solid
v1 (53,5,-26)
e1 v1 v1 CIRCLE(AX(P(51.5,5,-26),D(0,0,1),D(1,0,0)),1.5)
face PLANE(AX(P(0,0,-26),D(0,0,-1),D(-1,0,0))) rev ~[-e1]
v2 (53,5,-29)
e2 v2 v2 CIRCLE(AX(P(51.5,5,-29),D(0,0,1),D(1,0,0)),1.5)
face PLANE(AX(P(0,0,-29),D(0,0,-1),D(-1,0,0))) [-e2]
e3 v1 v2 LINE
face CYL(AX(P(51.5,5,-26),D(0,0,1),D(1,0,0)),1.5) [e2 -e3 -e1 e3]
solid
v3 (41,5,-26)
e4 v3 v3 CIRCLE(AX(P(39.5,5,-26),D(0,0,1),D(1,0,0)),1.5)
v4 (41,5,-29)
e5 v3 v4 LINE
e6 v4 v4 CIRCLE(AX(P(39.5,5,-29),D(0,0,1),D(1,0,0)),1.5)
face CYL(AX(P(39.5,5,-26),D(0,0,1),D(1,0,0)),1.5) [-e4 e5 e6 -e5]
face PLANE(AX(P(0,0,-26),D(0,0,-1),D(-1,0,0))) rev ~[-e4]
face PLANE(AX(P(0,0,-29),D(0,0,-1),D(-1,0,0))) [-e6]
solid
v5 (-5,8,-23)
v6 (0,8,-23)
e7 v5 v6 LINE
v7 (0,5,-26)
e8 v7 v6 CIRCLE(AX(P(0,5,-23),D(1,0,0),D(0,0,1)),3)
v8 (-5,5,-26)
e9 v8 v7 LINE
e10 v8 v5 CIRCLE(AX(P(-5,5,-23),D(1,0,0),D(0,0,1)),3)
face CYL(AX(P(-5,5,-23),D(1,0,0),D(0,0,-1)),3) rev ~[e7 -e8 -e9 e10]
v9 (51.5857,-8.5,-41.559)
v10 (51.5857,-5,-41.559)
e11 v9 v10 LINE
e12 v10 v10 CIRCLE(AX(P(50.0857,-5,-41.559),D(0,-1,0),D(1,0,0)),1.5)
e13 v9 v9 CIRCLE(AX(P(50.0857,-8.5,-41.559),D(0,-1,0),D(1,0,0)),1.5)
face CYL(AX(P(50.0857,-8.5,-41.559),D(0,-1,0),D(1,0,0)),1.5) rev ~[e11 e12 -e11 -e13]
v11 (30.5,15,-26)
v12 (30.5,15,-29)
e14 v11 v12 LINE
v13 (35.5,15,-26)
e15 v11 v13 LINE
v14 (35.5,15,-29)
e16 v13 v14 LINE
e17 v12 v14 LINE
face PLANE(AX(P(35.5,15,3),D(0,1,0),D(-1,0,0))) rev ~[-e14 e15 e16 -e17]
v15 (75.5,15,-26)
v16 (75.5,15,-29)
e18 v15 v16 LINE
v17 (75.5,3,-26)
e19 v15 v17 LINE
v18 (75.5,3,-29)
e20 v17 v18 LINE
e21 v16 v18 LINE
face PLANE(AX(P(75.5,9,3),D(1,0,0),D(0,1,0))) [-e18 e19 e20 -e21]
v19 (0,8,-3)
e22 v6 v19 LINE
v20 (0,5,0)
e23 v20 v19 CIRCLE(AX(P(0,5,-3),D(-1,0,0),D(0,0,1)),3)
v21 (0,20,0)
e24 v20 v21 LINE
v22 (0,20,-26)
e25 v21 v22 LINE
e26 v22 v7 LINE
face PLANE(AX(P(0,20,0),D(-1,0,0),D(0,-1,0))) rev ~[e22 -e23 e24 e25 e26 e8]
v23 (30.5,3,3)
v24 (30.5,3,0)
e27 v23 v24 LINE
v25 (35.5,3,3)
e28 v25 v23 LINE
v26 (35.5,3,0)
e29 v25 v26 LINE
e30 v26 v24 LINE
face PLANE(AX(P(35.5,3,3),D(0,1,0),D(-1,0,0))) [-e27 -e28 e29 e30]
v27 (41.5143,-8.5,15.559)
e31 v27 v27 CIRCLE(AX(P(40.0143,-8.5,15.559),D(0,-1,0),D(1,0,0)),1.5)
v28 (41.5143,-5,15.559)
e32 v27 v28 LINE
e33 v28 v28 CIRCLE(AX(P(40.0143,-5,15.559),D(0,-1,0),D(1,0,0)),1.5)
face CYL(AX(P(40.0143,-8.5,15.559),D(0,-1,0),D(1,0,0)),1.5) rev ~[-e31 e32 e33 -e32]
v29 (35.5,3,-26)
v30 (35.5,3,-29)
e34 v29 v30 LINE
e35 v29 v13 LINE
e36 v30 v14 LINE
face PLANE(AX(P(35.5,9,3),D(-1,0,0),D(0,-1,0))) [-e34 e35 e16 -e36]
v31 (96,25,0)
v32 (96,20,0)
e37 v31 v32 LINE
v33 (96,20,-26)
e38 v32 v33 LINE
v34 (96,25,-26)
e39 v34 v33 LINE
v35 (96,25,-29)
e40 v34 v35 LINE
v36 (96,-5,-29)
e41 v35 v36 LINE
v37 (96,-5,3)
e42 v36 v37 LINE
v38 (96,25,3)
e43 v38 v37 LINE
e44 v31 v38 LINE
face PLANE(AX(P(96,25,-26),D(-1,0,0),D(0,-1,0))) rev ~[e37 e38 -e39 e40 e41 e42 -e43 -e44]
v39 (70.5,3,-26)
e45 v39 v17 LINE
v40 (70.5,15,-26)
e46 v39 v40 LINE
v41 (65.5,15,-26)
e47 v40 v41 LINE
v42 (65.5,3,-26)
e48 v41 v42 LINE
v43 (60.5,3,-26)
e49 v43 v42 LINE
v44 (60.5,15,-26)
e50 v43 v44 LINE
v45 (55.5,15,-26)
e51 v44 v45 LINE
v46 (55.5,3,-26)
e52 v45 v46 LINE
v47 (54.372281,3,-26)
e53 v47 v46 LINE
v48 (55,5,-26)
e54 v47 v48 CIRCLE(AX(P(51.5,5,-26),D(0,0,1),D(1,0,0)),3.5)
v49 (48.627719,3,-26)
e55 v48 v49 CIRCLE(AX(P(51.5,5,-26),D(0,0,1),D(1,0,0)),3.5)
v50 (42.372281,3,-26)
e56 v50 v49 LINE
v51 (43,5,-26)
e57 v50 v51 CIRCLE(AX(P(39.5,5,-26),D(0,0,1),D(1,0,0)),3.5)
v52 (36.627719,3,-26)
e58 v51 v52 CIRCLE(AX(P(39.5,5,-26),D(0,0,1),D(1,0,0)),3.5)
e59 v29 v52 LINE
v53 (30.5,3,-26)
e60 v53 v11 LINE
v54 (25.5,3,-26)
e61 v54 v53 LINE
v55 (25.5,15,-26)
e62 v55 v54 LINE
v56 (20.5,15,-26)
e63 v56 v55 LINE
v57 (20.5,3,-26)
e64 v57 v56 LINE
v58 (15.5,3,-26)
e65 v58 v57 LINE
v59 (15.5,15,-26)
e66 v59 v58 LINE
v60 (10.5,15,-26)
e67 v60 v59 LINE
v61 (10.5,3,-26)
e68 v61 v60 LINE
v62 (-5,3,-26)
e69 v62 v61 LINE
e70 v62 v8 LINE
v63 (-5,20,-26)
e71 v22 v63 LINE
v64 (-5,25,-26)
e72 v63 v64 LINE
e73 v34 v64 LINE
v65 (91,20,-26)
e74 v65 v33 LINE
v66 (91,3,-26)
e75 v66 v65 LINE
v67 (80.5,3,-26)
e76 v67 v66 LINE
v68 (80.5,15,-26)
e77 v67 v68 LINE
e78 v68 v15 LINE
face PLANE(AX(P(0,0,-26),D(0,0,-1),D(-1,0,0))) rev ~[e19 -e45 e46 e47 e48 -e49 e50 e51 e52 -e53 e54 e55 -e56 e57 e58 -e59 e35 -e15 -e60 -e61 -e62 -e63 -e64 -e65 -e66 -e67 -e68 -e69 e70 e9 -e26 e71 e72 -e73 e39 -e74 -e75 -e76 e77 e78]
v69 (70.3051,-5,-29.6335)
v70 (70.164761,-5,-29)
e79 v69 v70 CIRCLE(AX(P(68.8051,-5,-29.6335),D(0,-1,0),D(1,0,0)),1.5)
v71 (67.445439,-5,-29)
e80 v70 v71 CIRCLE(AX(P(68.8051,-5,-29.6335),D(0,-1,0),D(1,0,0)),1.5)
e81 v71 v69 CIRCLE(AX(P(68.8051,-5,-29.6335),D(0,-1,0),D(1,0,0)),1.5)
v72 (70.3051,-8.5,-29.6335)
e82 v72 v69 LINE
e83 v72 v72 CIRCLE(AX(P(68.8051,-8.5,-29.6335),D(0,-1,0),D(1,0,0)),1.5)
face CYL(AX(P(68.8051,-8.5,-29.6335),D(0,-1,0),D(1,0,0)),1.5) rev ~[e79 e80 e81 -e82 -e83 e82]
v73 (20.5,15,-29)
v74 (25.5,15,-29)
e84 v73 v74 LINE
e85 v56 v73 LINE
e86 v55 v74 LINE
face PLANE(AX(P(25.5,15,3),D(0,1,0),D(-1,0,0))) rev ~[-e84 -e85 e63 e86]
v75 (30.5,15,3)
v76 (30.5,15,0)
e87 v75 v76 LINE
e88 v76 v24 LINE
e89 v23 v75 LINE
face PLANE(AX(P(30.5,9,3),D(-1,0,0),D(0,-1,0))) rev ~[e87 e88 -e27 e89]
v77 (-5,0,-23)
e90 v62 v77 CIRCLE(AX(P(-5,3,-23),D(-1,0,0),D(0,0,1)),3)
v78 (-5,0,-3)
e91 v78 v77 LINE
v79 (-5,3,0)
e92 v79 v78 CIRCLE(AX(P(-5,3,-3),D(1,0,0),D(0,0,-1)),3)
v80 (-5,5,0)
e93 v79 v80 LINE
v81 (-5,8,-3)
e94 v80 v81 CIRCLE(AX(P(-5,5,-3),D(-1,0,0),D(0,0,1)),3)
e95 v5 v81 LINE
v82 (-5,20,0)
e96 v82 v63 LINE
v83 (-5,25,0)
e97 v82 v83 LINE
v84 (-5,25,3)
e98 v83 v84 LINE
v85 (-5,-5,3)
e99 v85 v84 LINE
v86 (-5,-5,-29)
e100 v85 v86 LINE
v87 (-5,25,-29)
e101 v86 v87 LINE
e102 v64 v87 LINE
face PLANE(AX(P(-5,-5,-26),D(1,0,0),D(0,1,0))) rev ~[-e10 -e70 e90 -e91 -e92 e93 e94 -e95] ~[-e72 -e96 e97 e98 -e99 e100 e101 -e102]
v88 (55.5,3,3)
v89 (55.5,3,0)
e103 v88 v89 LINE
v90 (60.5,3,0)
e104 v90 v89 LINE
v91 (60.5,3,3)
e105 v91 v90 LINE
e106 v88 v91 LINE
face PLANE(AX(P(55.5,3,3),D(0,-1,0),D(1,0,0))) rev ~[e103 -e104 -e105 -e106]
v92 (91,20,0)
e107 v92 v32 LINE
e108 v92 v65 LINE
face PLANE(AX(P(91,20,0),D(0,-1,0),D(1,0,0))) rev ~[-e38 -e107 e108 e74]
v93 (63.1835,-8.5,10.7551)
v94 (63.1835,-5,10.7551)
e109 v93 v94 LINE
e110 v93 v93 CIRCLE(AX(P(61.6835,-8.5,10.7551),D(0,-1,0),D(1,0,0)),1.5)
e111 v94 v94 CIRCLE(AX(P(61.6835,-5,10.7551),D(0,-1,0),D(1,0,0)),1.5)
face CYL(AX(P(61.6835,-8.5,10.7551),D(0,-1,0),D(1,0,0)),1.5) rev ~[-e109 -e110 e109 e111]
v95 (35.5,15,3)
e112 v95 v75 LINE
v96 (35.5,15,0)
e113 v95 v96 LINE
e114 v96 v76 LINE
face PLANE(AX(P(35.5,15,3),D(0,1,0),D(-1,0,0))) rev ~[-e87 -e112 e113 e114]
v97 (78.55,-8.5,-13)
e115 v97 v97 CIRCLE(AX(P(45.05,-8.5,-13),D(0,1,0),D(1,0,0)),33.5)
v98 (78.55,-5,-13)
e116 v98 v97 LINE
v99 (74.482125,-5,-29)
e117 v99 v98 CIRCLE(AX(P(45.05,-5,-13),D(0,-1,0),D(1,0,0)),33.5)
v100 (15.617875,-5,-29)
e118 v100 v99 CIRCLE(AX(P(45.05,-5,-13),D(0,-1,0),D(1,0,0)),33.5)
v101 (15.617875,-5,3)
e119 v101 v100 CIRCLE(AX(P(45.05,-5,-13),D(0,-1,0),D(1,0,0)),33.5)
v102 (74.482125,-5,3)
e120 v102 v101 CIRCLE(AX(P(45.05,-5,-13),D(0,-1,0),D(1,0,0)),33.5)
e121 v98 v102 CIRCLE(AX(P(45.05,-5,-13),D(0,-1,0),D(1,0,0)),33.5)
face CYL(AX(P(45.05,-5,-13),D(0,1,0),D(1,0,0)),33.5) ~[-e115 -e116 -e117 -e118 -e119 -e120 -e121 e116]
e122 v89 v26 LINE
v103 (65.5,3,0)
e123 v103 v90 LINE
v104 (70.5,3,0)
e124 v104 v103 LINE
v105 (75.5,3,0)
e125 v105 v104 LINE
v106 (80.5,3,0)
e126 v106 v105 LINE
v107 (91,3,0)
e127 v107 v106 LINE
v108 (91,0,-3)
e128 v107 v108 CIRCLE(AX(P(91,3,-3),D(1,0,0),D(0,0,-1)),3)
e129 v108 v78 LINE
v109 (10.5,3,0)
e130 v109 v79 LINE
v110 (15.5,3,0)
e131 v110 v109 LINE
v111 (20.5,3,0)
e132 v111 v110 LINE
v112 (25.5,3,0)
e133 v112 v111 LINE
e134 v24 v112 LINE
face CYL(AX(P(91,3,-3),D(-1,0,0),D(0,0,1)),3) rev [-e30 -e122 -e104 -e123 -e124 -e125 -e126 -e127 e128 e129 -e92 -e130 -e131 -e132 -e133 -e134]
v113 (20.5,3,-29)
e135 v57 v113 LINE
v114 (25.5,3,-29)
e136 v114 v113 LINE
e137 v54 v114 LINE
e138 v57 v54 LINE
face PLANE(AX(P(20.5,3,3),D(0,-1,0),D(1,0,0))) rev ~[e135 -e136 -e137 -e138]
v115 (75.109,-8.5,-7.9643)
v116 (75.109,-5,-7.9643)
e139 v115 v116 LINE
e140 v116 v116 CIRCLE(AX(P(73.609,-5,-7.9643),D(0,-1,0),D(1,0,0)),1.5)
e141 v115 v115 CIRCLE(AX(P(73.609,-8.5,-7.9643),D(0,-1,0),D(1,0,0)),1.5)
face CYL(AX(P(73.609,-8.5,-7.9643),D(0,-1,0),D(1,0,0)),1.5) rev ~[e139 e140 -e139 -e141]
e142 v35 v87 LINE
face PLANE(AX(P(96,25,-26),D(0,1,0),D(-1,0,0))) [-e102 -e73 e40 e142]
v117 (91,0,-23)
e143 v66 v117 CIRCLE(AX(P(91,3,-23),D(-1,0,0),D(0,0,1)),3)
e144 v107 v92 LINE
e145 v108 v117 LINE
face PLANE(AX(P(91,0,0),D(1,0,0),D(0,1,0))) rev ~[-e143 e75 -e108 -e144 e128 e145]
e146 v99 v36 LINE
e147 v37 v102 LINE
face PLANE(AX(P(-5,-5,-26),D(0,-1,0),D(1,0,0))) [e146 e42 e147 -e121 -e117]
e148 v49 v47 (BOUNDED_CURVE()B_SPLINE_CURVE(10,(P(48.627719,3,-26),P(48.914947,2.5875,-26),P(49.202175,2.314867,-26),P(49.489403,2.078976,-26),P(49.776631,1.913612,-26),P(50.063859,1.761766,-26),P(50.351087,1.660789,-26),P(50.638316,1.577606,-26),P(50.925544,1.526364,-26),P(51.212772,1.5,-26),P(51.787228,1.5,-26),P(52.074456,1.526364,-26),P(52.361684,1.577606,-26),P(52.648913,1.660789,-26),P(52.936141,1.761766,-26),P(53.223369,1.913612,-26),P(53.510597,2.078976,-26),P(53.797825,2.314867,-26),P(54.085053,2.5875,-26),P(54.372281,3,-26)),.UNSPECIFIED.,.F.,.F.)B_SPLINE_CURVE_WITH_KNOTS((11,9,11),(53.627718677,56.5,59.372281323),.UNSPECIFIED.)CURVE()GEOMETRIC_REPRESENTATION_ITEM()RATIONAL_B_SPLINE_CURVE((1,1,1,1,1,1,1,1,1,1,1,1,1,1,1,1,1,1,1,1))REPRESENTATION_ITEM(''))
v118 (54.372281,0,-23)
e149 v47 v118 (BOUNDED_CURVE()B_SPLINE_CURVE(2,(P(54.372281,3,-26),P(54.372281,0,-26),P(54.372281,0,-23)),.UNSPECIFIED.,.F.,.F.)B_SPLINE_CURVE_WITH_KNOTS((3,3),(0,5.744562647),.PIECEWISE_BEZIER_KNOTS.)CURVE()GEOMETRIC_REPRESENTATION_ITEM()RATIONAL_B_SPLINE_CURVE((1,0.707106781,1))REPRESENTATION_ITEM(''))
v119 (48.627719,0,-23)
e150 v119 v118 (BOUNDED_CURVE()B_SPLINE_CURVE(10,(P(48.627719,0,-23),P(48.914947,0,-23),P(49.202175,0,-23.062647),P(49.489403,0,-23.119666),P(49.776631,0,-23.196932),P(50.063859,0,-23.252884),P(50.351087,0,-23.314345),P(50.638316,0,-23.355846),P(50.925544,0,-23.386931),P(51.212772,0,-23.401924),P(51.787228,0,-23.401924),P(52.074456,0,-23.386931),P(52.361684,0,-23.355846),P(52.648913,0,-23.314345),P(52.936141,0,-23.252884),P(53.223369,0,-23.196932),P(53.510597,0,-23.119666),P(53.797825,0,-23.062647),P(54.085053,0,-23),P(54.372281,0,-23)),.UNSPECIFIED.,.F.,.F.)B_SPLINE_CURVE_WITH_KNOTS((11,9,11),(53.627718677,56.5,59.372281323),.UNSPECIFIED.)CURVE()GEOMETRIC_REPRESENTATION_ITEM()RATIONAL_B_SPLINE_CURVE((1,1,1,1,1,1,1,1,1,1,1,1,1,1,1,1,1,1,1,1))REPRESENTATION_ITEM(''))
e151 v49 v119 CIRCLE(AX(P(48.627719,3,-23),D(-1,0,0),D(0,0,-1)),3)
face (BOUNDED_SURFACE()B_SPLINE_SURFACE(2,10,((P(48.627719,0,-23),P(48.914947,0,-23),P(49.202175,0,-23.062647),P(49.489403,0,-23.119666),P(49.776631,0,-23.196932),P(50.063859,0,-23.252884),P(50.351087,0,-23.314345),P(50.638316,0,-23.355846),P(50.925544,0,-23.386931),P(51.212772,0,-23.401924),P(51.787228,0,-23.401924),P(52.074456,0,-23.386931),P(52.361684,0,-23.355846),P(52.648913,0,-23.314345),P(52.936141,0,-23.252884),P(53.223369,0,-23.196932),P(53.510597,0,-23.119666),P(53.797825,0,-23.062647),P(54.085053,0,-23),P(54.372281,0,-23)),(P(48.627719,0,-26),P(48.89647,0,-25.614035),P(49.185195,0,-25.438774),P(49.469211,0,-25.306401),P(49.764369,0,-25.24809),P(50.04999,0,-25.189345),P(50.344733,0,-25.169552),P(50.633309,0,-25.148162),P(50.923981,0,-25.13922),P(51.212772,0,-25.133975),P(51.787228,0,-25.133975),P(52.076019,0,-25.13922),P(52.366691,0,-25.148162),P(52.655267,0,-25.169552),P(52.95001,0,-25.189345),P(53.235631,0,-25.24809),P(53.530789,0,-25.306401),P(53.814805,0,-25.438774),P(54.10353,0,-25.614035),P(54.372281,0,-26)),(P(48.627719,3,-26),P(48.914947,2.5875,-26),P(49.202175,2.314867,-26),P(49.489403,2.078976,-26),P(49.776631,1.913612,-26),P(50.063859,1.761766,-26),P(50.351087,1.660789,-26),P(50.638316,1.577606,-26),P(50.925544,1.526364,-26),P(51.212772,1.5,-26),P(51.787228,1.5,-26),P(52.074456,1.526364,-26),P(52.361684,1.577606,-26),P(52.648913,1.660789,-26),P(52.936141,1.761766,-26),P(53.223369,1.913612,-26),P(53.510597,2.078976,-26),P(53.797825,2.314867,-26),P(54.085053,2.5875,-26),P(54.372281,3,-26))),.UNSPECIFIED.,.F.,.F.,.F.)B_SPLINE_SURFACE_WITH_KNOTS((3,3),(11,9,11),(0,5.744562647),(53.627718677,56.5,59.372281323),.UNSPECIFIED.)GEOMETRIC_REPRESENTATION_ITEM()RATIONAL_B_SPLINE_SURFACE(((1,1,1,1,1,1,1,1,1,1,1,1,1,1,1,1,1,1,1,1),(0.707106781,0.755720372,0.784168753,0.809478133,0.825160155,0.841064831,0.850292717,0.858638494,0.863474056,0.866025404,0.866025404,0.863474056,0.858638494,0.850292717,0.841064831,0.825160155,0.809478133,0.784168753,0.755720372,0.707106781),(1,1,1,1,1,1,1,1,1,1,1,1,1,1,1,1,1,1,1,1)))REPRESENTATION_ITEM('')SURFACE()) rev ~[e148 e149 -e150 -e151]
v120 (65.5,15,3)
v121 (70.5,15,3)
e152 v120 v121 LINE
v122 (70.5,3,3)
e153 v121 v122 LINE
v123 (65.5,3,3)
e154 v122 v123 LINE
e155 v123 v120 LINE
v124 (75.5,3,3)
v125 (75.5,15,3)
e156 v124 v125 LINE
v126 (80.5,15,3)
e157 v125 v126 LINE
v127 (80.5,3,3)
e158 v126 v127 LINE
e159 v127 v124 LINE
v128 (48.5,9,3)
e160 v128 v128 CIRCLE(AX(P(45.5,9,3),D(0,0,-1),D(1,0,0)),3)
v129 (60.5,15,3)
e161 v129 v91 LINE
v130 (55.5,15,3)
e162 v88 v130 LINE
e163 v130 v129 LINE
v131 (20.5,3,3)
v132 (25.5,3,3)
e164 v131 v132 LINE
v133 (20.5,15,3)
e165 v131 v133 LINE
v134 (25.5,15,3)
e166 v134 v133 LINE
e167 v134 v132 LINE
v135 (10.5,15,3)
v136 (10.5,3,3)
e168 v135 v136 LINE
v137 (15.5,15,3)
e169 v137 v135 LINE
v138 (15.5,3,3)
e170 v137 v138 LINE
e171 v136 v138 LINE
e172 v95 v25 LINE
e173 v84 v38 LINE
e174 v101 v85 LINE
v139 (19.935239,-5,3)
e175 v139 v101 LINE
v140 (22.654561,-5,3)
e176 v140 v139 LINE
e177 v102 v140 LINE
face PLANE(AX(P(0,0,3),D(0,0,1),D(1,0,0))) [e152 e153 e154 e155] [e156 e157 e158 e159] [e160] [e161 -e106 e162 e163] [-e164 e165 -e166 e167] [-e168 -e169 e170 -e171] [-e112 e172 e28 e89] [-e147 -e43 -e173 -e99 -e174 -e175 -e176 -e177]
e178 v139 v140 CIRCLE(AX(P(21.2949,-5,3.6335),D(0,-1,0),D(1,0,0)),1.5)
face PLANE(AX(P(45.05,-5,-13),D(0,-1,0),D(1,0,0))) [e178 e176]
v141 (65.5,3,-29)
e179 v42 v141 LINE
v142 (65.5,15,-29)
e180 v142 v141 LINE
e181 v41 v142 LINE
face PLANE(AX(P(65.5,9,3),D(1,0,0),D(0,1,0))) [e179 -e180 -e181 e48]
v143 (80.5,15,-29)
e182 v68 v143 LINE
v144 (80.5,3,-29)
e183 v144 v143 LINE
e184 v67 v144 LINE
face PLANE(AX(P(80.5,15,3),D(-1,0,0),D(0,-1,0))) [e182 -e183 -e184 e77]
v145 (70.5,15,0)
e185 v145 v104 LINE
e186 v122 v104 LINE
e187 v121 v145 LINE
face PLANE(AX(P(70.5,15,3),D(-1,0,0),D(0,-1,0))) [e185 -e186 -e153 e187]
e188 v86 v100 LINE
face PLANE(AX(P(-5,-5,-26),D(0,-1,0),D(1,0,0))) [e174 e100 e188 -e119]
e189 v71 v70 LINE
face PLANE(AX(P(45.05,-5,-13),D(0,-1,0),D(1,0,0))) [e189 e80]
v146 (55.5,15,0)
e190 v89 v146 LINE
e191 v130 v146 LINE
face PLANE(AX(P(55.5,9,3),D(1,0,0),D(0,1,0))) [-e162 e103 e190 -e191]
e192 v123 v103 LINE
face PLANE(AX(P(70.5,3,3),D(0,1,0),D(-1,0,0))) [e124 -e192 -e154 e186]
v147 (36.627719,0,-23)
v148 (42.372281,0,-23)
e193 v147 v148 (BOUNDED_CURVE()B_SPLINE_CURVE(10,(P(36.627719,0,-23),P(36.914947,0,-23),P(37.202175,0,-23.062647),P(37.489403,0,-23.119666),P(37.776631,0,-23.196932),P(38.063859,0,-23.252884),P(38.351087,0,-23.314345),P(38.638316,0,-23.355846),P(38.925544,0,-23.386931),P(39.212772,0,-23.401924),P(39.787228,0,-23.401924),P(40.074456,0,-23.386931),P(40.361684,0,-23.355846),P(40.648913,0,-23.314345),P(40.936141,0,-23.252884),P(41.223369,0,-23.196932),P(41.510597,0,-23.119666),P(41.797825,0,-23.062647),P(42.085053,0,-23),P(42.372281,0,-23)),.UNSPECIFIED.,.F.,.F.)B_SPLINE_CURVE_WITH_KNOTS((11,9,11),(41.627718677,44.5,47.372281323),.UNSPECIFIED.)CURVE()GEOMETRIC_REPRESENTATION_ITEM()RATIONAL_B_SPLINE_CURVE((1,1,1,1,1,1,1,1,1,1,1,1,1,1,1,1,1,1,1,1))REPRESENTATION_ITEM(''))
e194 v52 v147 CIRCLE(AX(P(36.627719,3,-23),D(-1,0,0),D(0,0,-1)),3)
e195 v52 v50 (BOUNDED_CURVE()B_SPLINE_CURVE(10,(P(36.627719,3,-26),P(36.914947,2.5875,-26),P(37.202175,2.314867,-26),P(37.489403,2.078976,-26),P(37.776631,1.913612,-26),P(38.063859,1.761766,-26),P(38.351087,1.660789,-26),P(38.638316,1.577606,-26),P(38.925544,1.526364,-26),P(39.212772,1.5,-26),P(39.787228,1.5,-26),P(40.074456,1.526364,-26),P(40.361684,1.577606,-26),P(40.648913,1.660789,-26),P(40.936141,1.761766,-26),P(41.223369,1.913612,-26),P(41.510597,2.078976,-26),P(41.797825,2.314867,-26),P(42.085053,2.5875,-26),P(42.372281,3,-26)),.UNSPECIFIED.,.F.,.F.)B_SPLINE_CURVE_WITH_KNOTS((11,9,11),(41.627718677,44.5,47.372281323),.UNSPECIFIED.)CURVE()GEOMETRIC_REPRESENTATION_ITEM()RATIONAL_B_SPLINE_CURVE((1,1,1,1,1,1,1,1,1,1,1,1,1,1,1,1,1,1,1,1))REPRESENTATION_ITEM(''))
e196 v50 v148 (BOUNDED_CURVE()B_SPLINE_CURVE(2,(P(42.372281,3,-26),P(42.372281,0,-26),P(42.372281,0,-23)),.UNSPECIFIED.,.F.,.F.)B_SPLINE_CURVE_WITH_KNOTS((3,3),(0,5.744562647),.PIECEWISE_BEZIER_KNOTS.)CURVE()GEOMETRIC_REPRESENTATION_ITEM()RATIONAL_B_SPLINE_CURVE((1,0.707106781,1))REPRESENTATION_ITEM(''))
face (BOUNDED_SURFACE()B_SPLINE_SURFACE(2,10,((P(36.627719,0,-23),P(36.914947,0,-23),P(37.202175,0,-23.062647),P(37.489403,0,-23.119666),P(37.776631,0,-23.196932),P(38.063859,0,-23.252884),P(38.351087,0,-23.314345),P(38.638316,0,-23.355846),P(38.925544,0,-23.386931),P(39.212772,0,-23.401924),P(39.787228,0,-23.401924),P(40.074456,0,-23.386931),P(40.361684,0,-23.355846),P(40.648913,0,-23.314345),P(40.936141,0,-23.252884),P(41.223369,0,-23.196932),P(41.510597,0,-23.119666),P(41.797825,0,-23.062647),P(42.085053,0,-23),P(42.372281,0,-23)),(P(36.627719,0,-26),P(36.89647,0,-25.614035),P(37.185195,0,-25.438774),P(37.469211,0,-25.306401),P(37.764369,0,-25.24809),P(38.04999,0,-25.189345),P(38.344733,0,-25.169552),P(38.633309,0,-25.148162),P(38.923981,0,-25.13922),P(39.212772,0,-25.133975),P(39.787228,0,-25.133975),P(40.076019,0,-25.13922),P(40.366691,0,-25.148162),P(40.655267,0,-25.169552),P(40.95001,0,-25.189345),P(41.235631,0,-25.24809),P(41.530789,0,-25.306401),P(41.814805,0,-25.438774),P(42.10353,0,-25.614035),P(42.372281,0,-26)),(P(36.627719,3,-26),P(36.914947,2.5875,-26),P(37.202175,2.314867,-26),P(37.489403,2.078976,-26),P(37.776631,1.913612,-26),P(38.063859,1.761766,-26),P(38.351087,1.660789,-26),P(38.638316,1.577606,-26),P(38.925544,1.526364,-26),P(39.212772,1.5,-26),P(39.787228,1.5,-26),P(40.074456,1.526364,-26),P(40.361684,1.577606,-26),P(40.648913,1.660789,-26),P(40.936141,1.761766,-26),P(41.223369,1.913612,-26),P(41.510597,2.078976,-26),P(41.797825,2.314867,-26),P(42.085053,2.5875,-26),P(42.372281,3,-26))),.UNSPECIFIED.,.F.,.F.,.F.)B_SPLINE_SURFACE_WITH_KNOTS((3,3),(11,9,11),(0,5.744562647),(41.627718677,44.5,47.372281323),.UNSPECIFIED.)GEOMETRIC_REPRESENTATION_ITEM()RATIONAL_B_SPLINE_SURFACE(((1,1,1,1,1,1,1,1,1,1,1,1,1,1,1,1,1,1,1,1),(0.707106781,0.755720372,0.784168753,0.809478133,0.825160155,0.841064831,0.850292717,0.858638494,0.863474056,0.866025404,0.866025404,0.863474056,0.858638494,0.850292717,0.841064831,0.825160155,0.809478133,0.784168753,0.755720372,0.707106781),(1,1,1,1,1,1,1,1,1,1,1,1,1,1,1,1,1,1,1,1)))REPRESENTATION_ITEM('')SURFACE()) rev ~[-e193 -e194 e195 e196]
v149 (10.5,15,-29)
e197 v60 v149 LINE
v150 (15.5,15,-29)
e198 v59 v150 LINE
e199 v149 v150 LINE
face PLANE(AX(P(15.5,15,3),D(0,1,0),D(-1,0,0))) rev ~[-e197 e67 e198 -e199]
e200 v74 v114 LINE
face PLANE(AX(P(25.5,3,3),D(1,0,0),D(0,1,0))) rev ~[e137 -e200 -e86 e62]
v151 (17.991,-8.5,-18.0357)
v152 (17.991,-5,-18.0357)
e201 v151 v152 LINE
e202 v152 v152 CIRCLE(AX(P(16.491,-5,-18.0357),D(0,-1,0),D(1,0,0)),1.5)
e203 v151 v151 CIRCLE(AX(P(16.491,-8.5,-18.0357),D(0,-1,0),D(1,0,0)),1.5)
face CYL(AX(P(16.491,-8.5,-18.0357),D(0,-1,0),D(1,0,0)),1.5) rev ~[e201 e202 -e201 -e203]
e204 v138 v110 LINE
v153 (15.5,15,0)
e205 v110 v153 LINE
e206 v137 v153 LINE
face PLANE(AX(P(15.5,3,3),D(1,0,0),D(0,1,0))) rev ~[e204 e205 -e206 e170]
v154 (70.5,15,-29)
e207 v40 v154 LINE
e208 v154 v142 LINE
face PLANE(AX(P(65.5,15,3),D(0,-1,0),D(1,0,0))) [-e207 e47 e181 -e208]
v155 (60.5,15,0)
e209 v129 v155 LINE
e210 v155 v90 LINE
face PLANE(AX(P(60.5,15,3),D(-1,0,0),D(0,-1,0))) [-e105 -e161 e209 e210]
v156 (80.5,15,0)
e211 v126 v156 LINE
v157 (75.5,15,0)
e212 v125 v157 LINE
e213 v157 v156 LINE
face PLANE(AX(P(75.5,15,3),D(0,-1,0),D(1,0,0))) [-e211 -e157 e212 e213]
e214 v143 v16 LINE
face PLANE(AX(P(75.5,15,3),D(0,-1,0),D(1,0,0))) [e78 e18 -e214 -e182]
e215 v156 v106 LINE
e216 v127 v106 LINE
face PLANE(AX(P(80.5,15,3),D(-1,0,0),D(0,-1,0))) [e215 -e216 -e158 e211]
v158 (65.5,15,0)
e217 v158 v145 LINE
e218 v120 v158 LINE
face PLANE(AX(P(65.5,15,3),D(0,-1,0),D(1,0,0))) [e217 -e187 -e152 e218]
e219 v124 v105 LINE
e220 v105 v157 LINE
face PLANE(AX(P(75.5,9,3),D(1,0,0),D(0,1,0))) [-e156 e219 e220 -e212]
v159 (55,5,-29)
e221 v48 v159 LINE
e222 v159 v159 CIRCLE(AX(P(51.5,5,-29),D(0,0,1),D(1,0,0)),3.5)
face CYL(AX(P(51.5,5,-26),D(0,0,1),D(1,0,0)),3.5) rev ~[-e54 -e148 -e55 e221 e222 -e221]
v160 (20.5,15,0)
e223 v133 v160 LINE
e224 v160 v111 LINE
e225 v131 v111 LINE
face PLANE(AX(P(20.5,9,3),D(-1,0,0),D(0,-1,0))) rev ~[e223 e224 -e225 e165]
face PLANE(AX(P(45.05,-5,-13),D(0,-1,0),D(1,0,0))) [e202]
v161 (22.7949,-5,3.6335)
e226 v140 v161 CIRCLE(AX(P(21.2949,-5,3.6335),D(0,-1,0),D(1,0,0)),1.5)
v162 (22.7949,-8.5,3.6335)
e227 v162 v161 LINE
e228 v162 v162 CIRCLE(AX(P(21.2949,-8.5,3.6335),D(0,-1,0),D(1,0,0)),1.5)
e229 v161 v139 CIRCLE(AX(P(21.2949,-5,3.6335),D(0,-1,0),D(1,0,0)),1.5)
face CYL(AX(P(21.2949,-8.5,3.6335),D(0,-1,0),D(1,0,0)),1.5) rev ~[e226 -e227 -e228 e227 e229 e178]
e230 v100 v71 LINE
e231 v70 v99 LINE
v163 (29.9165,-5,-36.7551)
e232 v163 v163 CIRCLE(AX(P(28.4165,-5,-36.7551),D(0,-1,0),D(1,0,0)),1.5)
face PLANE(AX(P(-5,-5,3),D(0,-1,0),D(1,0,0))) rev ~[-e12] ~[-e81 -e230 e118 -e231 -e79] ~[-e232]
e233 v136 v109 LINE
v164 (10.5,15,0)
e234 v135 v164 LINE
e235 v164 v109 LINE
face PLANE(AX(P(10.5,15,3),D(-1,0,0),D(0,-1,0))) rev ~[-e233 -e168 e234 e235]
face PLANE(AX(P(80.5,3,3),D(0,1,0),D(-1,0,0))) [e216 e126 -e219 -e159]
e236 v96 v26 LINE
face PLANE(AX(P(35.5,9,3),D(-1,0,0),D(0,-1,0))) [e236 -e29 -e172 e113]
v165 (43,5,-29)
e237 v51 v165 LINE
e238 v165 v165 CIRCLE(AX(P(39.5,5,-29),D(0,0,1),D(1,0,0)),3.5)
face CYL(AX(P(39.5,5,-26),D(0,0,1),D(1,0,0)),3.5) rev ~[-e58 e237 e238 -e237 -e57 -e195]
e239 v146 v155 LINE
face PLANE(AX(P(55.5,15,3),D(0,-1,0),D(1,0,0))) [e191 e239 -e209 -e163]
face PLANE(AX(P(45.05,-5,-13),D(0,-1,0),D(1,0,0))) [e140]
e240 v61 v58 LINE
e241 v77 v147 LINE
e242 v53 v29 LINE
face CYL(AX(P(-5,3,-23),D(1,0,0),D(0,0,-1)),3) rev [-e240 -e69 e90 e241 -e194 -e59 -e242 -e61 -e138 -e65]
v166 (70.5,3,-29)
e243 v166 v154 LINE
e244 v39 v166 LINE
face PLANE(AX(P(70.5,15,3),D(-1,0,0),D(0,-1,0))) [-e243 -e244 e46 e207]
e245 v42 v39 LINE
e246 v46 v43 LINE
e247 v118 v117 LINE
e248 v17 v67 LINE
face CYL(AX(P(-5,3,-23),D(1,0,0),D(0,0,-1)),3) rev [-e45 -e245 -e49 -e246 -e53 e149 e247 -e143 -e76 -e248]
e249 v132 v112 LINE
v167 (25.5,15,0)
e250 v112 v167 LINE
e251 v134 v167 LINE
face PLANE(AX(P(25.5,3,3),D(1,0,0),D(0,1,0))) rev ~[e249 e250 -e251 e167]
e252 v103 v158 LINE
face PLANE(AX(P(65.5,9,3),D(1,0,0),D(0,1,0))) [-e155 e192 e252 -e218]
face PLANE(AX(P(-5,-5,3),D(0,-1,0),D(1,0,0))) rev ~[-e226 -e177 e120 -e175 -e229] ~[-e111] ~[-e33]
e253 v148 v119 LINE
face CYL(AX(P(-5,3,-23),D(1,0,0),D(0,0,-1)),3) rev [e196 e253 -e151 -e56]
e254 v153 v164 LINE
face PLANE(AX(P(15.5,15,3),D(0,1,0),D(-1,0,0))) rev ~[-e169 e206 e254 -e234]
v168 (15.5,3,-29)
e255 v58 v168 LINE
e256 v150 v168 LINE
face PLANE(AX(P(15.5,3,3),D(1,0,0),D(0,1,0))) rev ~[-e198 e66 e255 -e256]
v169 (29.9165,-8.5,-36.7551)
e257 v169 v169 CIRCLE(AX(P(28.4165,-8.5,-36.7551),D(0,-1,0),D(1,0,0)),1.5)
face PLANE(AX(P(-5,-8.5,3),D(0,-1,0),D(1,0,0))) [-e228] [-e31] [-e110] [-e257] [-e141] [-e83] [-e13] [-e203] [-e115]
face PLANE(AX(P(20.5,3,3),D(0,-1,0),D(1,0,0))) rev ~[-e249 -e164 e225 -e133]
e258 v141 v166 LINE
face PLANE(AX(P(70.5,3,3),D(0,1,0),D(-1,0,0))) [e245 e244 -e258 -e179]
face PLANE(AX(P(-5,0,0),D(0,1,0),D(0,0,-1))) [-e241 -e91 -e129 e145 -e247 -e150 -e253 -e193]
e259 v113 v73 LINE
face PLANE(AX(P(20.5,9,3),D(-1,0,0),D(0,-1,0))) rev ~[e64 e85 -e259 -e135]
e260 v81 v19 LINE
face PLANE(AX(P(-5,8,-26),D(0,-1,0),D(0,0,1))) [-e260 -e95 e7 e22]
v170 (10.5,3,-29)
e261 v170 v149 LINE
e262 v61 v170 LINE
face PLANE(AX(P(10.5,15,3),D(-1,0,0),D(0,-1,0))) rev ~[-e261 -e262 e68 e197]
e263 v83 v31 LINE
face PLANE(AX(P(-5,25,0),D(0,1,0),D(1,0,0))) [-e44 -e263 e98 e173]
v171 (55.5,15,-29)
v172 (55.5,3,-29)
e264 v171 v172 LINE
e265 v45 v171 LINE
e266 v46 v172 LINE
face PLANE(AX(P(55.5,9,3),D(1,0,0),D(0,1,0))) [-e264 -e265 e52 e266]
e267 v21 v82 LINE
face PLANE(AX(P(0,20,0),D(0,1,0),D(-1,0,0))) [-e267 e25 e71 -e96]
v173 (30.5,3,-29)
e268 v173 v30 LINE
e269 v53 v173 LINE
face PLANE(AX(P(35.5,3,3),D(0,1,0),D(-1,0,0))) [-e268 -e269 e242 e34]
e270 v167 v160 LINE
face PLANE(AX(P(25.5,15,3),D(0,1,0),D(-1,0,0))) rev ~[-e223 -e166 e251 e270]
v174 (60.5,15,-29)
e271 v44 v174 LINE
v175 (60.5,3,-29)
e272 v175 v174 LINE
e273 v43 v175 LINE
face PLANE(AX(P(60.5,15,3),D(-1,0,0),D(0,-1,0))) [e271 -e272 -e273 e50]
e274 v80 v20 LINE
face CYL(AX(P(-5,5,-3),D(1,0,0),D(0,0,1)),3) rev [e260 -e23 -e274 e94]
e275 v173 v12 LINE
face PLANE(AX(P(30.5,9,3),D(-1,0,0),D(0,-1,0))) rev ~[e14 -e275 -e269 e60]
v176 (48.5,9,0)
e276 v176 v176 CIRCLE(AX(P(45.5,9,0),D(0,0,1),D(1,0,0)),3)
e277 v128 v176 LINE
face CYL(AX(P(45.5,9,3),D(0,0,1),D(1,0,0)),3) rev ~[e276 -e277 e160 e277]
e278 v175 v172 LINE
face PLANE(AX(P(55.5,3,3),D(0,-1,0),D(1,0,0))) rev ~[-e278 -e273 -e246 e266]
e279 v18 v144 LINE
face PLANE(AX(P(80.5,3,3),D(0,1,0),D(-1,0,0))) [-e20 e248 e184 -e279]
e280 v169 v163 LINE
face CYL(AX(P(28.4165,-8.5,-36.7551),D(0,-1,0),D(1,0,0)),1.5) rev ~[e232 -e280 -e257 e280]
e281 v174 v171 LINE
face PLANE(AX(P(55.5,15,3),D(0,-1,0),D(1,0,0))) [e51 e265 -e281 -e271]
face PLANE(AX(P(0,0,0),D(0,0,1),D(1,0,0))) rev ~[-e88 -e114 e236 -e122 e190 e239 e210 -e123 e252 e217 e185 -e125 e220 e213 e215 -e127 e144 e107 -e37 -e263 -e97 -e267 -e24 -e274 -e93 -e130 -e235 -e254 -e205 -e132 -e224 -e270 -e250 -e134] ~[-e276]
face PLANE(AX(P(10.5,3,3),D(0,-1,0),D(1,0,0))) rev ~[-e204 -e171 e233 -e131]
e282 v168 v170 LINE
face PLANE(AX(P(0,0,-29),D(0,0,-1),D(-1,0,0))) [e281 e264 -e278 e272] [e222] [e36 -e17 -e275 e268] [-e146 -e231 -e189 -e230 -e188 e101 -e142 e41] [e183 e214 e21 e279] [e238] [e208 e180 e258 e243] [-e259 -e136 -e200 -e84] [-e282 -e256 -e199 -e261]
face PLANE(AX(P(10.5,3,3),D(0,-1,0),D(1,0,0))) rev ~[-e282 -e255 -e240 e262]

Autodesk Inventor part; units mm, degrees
ref_plane "YZ Plane" through (0, 0, 0) normal (1, 0, 0) x (0, 1, 0)
ref_plane "XZ Plane" through (0, 0, 0) normal (0, 1, 0) x (-1, 0, 0)
ref_plane "XY Plane" through (0, 0, 0) normal (0, 0, 1) x (1, 0, 0)
sketch "Sketch1" plane through (0, 0, 0) normal (0, 0, 1) x (1, 0, 0)
  line L0 (0, 0) -> (91, 0)
  line L1 (91, 0) -> (91, 20)
  line L2 (91, 20) -> (0, 20)
  line L3 (0, 20) -> (0, 0)
  line L4 (-5, 25) -> (96, 25)
  line L5 (96, 25) -> (96, -5)
  line L6 (96, -5) -> (-5, -5)
  line L7 (-5, -5) -> (-5, 25)
  line L8 (0, 20) -> (-5, 20)
  line L9 (91, 20) -> (96, 20)
  dimension "d0" = 91
  dimension "d1" = 20
  dimension "d2" = 91
  dimension "d3" = 5
extrude "Extrusion1" add sketch "Sketch1" along normal blind 3
extrude "Extrusion2" add sketch "Sketch1" against normal blind 26 contours L0 L1 L9 L5 L6 L7 L8 L3
sketch "Sketch2" plane through (0, 0, -26) normal (0, 0, -1) x (-1, 0, 0)
  line L0 (5, -5) -> (-96, -5) projected
  line L1 (-96, 25) -> (5, 25) projected
  line L2 (-96, -5) -> (5, -5)
  line L3 (5, -5) -> (5, 25)
  line L4 (5, 25) -> (-96, 25)
  line L5 (-96, 25) -> (-96, -5)
  point P0 (0, 0)
extrude "Extrusion3" add sketch "Sketch2" along normal blind 3
sketch "Sketch3" plane through (0, 0, 3) normal (0, 0, 1) x (1, 0, 0)
  line L0 (91, 0) -> (0, 0) projected
  line L1 (45.5, 0) -> (45.5, 9)
  circle A0 centre (45.5, 9) radius 3
  dimension "d10" = 9
  dimension "d11" = 6
extrude "Extrusion4" cut sketch "Sketch3" against normal blind 3
sketch "Sketch6" plane through (-5, -5, 3) normal (0, -1, 0) x (1, 0, 0)
  line L0 (0, -32) -> (101, -32) projected
  line L1 (50.5, -32) -> (50.5, -52)
  line L2 (50.5, -52) -> (56.5, -52)
  line L3 (56.5, -52) -> (56.5, -53.5)
  line L4 (56.5, -53.5) -> (54, -53.5)
  line L5 (54, -53.5) -> (54, -50.5)
  line L6 (54, -50.5) -> (59, -50.5)
  line L7 (59, -50.5) -> (59, -53.5)
  line L8 (59, -53.5) -> (56.5, -53.5)
  line L9 (50.5, -52) -> (44.5, -52)
  line L10 (44.5, -52) -> (44.5, -53.5)
  line L11 (44.5, -53.5) -> (47, -53.5)
  line L12 (47, -53.5) -> (47, -50.5)
  line L13 (47, -50.5) -> (42, -50.5)
  line L14 (42, -50.5) -> (42, -53.5)
  line L15 (42, -53.5) -> (44.5, -53.5)
  point P0 (5, -3)
  dimension "d23" = 20
  dimension "d25" = 6
  dimension "d26" = 1.5
  dimension "d27" = 2.5
  dimension "d28" = 3
  dimension "d29" = 5
extrude "Extrusion7" cut sketch "Sketch6" against normal through all
sketch "Sketch7" plane through (0, 0, -26) normal (0, 0, 1) x (1, 0, 0)
  circle A0 centre (39.5, 5) radius 1.5 projected
  circle A1 centre (39.5, 5) radius 3.5
  circle A2 centre (51.5, 5) radius 1.5 projected
  circle A3 centre (51.5, 5) radius 3.5
  dimension "d32" = 7
  dimension "d33" = 7
extrude "Extrusion8" cut sketch "Sketch7" against normal blind 10
sketch "Sketch8" plane through (-5, -5, 3) normal (-1, 0, 0) x (0, 0, 1)
  line L0 (-3, 5) -> (-3, 25) projected
  line L1 (-3, 5) -> (-29, 5)
  line L2 (-29, 5) -> (-29, 13)
  line L3 (-29, 13) -> (-3, 13)
  line L4 (-3, 13) -> (-3, 5)
  dimension "d37" = 26
  dimension "d38" = 8
extrude "Extrusion9" cut sketch "Sketch8" against normal up to surface (5 mm away)
fillet "Fillet2" radius 3 4 edges at (-2.5, 8, 0) (43, 0, 0) (-2.5, 8, -26) (43, 0, -26)
sketch "Sketch9" plane through (0, 0, 3) normal (0, 0, 1) x (1, 0, 0)
  circle A0 centre (45.5, 9) radius 3 projected
  line L0 (45.5, 9) -> (35.5, 9)
  line L1 (35.5, 9) -> (35.5, 15)
  line L2 (35.5, 15) -> (30.5, 15)
  line L3 (30.5, 15) -> (30.5, 3)
  line L4 (35.5, 9) -> (35.5, 3)
  line L5 (35.5, 3) -> (30.5, 3)
  line L6 (30.5, 9) -> (25.5, 9)
  line L7 (25.5, 9) -> (25.5, 15)
  line L8 (25.5, 15) -> (20.5, 15)
  line L9 (20.5, 15) -> (20.5, 3)
  line L10 (20.5, 3) -> (25.5, 3)
  line L11 (25.5, 3) -> (25.5, 9)
  line L12 (20.5, 9) -> (15.5, 9)
  line L13 (15.5, 9) -> (15.5, 15)
  line L14 (15.5, 15) -> (10.5, 15)
  line L15 (10.5, 15) -> (10.5, 3)
  line L16 (10.5, 3) -> (15.5, 3)
  line L17 (15.5, 3) -> (15.5, 9)
  line L18 (45.5, 9) -> (45.5, 56.359)
  line L19 (45.5, 9) -> (55.5, 9)
  line L20 (55.5, 9) -> (55.5, 15)
  line L21 (55.5, 15) -> (60.5, 15)
  line L22 (60.5, 15) -> (60.5, 3)
  line L23 (55.5, 9) -> (55.5, 3)
  line L24 (55.5, 3) -> (60.5, 3)
  line L25 (60.5, 9) -> (65.5, 9)
  line L26 (65.5, 9) -> (65.5, 15)
  line L27 (65.5, 15) -> (70.5, 15)
  line L28 (70.5, 15) -> (70.5, 3)
  line L29 (70.5, 3) -> (65.5, 3)
  line L30 (65.5, 3) -> (65.5, 9)
  line L31 (70.5, 9) -> (75.5, 9)
  line L32 (75.5, 9) -> (75.5, 15)
  line L33 (75.5, 15) -> (80.5, 15)
  line L34 (80.5, 15) -> (80.5, 3)
  line L35 (80.5, 3) -> (75.5, 3)
  line L36 (75.5, 3) -> (75.5, 9)
  point P0 (0, 0)
  point P1 (91, 0)
  dimension "d42" = 10
  dimension "d43" = 6
  dimension "d44" = 5
  dimension "d45" = 12
  dimension "d46" = 6
  dimension "d47" = 5
  dimension "d48" = 6
  dimension "d49" = 5
  dimension "d50" = 12
  dimension "d51" = 5
  dimension "d52" = 5
  dimension "d53" = 6
  dimension "d54" = 5
  dimension "d55" = 12
  dimension "d56" = 5
extrude "Extrusion10" cut sketch "Sketch9" against normal through all contours L17 L16 L15 L14 L13 | L11 L10 L9 L8 L7 | L4 L5 L3 L2 L1 | L32 L33 L34 L35 L36 | L26 L27 L28 L29 L30 | L20 L21 L22 L24 L23
sketch "Sketch12" plane through (-5, -5, 3) normal (0, -1, 0) x (1, 0, 0)
  circle A0 centre (50.05, -16) radius 33.5
  line L0 (0, 0) -> (0, -32) projected
  line L1 (0, 0) -> (101, 0) projected
  point P0 (5, -3)
  dimension "d67" = 67
  dimension "d68" = 50.05
  dimension "d69" = 16
extrude "Extrusion12" add sketch "Sketch12" along normal blind 3.5
sketch "Sketch14" plane through (45.05, -8.5, -13) normal (0, -1, 0) x (1, 0, 0)
  circle A0 centre (5.0357, -28.559) radius 1.5
  circle A1 centre (23.7551, -16.6335) radius 1.5
  circle A2 centre (28.559, 5.0357) radius 1.5
  circle A3 centre (16.6335, 23.7551) radius 1.5
  circle A4 centre (-5.0357, 28.559) radius 1.5
  circle A5 centre (-23.7551, 16.6335) radius 1.5
  circle A6 centre (-28.559, -5.0357) radius 1.5
  circle A7 centre (-16.6335, -23.7551) radius 1.5
  point P0 (-45.05, 13)
  point P1 (0, 0)
  dimension "d82" = 3
  dimension "d86" = 360
extrude "Extrusion14" cut sketch "Sketch14" against normal blind 3.5
equation "\"d2\" = d0"
properties part number "realsense_circle"
